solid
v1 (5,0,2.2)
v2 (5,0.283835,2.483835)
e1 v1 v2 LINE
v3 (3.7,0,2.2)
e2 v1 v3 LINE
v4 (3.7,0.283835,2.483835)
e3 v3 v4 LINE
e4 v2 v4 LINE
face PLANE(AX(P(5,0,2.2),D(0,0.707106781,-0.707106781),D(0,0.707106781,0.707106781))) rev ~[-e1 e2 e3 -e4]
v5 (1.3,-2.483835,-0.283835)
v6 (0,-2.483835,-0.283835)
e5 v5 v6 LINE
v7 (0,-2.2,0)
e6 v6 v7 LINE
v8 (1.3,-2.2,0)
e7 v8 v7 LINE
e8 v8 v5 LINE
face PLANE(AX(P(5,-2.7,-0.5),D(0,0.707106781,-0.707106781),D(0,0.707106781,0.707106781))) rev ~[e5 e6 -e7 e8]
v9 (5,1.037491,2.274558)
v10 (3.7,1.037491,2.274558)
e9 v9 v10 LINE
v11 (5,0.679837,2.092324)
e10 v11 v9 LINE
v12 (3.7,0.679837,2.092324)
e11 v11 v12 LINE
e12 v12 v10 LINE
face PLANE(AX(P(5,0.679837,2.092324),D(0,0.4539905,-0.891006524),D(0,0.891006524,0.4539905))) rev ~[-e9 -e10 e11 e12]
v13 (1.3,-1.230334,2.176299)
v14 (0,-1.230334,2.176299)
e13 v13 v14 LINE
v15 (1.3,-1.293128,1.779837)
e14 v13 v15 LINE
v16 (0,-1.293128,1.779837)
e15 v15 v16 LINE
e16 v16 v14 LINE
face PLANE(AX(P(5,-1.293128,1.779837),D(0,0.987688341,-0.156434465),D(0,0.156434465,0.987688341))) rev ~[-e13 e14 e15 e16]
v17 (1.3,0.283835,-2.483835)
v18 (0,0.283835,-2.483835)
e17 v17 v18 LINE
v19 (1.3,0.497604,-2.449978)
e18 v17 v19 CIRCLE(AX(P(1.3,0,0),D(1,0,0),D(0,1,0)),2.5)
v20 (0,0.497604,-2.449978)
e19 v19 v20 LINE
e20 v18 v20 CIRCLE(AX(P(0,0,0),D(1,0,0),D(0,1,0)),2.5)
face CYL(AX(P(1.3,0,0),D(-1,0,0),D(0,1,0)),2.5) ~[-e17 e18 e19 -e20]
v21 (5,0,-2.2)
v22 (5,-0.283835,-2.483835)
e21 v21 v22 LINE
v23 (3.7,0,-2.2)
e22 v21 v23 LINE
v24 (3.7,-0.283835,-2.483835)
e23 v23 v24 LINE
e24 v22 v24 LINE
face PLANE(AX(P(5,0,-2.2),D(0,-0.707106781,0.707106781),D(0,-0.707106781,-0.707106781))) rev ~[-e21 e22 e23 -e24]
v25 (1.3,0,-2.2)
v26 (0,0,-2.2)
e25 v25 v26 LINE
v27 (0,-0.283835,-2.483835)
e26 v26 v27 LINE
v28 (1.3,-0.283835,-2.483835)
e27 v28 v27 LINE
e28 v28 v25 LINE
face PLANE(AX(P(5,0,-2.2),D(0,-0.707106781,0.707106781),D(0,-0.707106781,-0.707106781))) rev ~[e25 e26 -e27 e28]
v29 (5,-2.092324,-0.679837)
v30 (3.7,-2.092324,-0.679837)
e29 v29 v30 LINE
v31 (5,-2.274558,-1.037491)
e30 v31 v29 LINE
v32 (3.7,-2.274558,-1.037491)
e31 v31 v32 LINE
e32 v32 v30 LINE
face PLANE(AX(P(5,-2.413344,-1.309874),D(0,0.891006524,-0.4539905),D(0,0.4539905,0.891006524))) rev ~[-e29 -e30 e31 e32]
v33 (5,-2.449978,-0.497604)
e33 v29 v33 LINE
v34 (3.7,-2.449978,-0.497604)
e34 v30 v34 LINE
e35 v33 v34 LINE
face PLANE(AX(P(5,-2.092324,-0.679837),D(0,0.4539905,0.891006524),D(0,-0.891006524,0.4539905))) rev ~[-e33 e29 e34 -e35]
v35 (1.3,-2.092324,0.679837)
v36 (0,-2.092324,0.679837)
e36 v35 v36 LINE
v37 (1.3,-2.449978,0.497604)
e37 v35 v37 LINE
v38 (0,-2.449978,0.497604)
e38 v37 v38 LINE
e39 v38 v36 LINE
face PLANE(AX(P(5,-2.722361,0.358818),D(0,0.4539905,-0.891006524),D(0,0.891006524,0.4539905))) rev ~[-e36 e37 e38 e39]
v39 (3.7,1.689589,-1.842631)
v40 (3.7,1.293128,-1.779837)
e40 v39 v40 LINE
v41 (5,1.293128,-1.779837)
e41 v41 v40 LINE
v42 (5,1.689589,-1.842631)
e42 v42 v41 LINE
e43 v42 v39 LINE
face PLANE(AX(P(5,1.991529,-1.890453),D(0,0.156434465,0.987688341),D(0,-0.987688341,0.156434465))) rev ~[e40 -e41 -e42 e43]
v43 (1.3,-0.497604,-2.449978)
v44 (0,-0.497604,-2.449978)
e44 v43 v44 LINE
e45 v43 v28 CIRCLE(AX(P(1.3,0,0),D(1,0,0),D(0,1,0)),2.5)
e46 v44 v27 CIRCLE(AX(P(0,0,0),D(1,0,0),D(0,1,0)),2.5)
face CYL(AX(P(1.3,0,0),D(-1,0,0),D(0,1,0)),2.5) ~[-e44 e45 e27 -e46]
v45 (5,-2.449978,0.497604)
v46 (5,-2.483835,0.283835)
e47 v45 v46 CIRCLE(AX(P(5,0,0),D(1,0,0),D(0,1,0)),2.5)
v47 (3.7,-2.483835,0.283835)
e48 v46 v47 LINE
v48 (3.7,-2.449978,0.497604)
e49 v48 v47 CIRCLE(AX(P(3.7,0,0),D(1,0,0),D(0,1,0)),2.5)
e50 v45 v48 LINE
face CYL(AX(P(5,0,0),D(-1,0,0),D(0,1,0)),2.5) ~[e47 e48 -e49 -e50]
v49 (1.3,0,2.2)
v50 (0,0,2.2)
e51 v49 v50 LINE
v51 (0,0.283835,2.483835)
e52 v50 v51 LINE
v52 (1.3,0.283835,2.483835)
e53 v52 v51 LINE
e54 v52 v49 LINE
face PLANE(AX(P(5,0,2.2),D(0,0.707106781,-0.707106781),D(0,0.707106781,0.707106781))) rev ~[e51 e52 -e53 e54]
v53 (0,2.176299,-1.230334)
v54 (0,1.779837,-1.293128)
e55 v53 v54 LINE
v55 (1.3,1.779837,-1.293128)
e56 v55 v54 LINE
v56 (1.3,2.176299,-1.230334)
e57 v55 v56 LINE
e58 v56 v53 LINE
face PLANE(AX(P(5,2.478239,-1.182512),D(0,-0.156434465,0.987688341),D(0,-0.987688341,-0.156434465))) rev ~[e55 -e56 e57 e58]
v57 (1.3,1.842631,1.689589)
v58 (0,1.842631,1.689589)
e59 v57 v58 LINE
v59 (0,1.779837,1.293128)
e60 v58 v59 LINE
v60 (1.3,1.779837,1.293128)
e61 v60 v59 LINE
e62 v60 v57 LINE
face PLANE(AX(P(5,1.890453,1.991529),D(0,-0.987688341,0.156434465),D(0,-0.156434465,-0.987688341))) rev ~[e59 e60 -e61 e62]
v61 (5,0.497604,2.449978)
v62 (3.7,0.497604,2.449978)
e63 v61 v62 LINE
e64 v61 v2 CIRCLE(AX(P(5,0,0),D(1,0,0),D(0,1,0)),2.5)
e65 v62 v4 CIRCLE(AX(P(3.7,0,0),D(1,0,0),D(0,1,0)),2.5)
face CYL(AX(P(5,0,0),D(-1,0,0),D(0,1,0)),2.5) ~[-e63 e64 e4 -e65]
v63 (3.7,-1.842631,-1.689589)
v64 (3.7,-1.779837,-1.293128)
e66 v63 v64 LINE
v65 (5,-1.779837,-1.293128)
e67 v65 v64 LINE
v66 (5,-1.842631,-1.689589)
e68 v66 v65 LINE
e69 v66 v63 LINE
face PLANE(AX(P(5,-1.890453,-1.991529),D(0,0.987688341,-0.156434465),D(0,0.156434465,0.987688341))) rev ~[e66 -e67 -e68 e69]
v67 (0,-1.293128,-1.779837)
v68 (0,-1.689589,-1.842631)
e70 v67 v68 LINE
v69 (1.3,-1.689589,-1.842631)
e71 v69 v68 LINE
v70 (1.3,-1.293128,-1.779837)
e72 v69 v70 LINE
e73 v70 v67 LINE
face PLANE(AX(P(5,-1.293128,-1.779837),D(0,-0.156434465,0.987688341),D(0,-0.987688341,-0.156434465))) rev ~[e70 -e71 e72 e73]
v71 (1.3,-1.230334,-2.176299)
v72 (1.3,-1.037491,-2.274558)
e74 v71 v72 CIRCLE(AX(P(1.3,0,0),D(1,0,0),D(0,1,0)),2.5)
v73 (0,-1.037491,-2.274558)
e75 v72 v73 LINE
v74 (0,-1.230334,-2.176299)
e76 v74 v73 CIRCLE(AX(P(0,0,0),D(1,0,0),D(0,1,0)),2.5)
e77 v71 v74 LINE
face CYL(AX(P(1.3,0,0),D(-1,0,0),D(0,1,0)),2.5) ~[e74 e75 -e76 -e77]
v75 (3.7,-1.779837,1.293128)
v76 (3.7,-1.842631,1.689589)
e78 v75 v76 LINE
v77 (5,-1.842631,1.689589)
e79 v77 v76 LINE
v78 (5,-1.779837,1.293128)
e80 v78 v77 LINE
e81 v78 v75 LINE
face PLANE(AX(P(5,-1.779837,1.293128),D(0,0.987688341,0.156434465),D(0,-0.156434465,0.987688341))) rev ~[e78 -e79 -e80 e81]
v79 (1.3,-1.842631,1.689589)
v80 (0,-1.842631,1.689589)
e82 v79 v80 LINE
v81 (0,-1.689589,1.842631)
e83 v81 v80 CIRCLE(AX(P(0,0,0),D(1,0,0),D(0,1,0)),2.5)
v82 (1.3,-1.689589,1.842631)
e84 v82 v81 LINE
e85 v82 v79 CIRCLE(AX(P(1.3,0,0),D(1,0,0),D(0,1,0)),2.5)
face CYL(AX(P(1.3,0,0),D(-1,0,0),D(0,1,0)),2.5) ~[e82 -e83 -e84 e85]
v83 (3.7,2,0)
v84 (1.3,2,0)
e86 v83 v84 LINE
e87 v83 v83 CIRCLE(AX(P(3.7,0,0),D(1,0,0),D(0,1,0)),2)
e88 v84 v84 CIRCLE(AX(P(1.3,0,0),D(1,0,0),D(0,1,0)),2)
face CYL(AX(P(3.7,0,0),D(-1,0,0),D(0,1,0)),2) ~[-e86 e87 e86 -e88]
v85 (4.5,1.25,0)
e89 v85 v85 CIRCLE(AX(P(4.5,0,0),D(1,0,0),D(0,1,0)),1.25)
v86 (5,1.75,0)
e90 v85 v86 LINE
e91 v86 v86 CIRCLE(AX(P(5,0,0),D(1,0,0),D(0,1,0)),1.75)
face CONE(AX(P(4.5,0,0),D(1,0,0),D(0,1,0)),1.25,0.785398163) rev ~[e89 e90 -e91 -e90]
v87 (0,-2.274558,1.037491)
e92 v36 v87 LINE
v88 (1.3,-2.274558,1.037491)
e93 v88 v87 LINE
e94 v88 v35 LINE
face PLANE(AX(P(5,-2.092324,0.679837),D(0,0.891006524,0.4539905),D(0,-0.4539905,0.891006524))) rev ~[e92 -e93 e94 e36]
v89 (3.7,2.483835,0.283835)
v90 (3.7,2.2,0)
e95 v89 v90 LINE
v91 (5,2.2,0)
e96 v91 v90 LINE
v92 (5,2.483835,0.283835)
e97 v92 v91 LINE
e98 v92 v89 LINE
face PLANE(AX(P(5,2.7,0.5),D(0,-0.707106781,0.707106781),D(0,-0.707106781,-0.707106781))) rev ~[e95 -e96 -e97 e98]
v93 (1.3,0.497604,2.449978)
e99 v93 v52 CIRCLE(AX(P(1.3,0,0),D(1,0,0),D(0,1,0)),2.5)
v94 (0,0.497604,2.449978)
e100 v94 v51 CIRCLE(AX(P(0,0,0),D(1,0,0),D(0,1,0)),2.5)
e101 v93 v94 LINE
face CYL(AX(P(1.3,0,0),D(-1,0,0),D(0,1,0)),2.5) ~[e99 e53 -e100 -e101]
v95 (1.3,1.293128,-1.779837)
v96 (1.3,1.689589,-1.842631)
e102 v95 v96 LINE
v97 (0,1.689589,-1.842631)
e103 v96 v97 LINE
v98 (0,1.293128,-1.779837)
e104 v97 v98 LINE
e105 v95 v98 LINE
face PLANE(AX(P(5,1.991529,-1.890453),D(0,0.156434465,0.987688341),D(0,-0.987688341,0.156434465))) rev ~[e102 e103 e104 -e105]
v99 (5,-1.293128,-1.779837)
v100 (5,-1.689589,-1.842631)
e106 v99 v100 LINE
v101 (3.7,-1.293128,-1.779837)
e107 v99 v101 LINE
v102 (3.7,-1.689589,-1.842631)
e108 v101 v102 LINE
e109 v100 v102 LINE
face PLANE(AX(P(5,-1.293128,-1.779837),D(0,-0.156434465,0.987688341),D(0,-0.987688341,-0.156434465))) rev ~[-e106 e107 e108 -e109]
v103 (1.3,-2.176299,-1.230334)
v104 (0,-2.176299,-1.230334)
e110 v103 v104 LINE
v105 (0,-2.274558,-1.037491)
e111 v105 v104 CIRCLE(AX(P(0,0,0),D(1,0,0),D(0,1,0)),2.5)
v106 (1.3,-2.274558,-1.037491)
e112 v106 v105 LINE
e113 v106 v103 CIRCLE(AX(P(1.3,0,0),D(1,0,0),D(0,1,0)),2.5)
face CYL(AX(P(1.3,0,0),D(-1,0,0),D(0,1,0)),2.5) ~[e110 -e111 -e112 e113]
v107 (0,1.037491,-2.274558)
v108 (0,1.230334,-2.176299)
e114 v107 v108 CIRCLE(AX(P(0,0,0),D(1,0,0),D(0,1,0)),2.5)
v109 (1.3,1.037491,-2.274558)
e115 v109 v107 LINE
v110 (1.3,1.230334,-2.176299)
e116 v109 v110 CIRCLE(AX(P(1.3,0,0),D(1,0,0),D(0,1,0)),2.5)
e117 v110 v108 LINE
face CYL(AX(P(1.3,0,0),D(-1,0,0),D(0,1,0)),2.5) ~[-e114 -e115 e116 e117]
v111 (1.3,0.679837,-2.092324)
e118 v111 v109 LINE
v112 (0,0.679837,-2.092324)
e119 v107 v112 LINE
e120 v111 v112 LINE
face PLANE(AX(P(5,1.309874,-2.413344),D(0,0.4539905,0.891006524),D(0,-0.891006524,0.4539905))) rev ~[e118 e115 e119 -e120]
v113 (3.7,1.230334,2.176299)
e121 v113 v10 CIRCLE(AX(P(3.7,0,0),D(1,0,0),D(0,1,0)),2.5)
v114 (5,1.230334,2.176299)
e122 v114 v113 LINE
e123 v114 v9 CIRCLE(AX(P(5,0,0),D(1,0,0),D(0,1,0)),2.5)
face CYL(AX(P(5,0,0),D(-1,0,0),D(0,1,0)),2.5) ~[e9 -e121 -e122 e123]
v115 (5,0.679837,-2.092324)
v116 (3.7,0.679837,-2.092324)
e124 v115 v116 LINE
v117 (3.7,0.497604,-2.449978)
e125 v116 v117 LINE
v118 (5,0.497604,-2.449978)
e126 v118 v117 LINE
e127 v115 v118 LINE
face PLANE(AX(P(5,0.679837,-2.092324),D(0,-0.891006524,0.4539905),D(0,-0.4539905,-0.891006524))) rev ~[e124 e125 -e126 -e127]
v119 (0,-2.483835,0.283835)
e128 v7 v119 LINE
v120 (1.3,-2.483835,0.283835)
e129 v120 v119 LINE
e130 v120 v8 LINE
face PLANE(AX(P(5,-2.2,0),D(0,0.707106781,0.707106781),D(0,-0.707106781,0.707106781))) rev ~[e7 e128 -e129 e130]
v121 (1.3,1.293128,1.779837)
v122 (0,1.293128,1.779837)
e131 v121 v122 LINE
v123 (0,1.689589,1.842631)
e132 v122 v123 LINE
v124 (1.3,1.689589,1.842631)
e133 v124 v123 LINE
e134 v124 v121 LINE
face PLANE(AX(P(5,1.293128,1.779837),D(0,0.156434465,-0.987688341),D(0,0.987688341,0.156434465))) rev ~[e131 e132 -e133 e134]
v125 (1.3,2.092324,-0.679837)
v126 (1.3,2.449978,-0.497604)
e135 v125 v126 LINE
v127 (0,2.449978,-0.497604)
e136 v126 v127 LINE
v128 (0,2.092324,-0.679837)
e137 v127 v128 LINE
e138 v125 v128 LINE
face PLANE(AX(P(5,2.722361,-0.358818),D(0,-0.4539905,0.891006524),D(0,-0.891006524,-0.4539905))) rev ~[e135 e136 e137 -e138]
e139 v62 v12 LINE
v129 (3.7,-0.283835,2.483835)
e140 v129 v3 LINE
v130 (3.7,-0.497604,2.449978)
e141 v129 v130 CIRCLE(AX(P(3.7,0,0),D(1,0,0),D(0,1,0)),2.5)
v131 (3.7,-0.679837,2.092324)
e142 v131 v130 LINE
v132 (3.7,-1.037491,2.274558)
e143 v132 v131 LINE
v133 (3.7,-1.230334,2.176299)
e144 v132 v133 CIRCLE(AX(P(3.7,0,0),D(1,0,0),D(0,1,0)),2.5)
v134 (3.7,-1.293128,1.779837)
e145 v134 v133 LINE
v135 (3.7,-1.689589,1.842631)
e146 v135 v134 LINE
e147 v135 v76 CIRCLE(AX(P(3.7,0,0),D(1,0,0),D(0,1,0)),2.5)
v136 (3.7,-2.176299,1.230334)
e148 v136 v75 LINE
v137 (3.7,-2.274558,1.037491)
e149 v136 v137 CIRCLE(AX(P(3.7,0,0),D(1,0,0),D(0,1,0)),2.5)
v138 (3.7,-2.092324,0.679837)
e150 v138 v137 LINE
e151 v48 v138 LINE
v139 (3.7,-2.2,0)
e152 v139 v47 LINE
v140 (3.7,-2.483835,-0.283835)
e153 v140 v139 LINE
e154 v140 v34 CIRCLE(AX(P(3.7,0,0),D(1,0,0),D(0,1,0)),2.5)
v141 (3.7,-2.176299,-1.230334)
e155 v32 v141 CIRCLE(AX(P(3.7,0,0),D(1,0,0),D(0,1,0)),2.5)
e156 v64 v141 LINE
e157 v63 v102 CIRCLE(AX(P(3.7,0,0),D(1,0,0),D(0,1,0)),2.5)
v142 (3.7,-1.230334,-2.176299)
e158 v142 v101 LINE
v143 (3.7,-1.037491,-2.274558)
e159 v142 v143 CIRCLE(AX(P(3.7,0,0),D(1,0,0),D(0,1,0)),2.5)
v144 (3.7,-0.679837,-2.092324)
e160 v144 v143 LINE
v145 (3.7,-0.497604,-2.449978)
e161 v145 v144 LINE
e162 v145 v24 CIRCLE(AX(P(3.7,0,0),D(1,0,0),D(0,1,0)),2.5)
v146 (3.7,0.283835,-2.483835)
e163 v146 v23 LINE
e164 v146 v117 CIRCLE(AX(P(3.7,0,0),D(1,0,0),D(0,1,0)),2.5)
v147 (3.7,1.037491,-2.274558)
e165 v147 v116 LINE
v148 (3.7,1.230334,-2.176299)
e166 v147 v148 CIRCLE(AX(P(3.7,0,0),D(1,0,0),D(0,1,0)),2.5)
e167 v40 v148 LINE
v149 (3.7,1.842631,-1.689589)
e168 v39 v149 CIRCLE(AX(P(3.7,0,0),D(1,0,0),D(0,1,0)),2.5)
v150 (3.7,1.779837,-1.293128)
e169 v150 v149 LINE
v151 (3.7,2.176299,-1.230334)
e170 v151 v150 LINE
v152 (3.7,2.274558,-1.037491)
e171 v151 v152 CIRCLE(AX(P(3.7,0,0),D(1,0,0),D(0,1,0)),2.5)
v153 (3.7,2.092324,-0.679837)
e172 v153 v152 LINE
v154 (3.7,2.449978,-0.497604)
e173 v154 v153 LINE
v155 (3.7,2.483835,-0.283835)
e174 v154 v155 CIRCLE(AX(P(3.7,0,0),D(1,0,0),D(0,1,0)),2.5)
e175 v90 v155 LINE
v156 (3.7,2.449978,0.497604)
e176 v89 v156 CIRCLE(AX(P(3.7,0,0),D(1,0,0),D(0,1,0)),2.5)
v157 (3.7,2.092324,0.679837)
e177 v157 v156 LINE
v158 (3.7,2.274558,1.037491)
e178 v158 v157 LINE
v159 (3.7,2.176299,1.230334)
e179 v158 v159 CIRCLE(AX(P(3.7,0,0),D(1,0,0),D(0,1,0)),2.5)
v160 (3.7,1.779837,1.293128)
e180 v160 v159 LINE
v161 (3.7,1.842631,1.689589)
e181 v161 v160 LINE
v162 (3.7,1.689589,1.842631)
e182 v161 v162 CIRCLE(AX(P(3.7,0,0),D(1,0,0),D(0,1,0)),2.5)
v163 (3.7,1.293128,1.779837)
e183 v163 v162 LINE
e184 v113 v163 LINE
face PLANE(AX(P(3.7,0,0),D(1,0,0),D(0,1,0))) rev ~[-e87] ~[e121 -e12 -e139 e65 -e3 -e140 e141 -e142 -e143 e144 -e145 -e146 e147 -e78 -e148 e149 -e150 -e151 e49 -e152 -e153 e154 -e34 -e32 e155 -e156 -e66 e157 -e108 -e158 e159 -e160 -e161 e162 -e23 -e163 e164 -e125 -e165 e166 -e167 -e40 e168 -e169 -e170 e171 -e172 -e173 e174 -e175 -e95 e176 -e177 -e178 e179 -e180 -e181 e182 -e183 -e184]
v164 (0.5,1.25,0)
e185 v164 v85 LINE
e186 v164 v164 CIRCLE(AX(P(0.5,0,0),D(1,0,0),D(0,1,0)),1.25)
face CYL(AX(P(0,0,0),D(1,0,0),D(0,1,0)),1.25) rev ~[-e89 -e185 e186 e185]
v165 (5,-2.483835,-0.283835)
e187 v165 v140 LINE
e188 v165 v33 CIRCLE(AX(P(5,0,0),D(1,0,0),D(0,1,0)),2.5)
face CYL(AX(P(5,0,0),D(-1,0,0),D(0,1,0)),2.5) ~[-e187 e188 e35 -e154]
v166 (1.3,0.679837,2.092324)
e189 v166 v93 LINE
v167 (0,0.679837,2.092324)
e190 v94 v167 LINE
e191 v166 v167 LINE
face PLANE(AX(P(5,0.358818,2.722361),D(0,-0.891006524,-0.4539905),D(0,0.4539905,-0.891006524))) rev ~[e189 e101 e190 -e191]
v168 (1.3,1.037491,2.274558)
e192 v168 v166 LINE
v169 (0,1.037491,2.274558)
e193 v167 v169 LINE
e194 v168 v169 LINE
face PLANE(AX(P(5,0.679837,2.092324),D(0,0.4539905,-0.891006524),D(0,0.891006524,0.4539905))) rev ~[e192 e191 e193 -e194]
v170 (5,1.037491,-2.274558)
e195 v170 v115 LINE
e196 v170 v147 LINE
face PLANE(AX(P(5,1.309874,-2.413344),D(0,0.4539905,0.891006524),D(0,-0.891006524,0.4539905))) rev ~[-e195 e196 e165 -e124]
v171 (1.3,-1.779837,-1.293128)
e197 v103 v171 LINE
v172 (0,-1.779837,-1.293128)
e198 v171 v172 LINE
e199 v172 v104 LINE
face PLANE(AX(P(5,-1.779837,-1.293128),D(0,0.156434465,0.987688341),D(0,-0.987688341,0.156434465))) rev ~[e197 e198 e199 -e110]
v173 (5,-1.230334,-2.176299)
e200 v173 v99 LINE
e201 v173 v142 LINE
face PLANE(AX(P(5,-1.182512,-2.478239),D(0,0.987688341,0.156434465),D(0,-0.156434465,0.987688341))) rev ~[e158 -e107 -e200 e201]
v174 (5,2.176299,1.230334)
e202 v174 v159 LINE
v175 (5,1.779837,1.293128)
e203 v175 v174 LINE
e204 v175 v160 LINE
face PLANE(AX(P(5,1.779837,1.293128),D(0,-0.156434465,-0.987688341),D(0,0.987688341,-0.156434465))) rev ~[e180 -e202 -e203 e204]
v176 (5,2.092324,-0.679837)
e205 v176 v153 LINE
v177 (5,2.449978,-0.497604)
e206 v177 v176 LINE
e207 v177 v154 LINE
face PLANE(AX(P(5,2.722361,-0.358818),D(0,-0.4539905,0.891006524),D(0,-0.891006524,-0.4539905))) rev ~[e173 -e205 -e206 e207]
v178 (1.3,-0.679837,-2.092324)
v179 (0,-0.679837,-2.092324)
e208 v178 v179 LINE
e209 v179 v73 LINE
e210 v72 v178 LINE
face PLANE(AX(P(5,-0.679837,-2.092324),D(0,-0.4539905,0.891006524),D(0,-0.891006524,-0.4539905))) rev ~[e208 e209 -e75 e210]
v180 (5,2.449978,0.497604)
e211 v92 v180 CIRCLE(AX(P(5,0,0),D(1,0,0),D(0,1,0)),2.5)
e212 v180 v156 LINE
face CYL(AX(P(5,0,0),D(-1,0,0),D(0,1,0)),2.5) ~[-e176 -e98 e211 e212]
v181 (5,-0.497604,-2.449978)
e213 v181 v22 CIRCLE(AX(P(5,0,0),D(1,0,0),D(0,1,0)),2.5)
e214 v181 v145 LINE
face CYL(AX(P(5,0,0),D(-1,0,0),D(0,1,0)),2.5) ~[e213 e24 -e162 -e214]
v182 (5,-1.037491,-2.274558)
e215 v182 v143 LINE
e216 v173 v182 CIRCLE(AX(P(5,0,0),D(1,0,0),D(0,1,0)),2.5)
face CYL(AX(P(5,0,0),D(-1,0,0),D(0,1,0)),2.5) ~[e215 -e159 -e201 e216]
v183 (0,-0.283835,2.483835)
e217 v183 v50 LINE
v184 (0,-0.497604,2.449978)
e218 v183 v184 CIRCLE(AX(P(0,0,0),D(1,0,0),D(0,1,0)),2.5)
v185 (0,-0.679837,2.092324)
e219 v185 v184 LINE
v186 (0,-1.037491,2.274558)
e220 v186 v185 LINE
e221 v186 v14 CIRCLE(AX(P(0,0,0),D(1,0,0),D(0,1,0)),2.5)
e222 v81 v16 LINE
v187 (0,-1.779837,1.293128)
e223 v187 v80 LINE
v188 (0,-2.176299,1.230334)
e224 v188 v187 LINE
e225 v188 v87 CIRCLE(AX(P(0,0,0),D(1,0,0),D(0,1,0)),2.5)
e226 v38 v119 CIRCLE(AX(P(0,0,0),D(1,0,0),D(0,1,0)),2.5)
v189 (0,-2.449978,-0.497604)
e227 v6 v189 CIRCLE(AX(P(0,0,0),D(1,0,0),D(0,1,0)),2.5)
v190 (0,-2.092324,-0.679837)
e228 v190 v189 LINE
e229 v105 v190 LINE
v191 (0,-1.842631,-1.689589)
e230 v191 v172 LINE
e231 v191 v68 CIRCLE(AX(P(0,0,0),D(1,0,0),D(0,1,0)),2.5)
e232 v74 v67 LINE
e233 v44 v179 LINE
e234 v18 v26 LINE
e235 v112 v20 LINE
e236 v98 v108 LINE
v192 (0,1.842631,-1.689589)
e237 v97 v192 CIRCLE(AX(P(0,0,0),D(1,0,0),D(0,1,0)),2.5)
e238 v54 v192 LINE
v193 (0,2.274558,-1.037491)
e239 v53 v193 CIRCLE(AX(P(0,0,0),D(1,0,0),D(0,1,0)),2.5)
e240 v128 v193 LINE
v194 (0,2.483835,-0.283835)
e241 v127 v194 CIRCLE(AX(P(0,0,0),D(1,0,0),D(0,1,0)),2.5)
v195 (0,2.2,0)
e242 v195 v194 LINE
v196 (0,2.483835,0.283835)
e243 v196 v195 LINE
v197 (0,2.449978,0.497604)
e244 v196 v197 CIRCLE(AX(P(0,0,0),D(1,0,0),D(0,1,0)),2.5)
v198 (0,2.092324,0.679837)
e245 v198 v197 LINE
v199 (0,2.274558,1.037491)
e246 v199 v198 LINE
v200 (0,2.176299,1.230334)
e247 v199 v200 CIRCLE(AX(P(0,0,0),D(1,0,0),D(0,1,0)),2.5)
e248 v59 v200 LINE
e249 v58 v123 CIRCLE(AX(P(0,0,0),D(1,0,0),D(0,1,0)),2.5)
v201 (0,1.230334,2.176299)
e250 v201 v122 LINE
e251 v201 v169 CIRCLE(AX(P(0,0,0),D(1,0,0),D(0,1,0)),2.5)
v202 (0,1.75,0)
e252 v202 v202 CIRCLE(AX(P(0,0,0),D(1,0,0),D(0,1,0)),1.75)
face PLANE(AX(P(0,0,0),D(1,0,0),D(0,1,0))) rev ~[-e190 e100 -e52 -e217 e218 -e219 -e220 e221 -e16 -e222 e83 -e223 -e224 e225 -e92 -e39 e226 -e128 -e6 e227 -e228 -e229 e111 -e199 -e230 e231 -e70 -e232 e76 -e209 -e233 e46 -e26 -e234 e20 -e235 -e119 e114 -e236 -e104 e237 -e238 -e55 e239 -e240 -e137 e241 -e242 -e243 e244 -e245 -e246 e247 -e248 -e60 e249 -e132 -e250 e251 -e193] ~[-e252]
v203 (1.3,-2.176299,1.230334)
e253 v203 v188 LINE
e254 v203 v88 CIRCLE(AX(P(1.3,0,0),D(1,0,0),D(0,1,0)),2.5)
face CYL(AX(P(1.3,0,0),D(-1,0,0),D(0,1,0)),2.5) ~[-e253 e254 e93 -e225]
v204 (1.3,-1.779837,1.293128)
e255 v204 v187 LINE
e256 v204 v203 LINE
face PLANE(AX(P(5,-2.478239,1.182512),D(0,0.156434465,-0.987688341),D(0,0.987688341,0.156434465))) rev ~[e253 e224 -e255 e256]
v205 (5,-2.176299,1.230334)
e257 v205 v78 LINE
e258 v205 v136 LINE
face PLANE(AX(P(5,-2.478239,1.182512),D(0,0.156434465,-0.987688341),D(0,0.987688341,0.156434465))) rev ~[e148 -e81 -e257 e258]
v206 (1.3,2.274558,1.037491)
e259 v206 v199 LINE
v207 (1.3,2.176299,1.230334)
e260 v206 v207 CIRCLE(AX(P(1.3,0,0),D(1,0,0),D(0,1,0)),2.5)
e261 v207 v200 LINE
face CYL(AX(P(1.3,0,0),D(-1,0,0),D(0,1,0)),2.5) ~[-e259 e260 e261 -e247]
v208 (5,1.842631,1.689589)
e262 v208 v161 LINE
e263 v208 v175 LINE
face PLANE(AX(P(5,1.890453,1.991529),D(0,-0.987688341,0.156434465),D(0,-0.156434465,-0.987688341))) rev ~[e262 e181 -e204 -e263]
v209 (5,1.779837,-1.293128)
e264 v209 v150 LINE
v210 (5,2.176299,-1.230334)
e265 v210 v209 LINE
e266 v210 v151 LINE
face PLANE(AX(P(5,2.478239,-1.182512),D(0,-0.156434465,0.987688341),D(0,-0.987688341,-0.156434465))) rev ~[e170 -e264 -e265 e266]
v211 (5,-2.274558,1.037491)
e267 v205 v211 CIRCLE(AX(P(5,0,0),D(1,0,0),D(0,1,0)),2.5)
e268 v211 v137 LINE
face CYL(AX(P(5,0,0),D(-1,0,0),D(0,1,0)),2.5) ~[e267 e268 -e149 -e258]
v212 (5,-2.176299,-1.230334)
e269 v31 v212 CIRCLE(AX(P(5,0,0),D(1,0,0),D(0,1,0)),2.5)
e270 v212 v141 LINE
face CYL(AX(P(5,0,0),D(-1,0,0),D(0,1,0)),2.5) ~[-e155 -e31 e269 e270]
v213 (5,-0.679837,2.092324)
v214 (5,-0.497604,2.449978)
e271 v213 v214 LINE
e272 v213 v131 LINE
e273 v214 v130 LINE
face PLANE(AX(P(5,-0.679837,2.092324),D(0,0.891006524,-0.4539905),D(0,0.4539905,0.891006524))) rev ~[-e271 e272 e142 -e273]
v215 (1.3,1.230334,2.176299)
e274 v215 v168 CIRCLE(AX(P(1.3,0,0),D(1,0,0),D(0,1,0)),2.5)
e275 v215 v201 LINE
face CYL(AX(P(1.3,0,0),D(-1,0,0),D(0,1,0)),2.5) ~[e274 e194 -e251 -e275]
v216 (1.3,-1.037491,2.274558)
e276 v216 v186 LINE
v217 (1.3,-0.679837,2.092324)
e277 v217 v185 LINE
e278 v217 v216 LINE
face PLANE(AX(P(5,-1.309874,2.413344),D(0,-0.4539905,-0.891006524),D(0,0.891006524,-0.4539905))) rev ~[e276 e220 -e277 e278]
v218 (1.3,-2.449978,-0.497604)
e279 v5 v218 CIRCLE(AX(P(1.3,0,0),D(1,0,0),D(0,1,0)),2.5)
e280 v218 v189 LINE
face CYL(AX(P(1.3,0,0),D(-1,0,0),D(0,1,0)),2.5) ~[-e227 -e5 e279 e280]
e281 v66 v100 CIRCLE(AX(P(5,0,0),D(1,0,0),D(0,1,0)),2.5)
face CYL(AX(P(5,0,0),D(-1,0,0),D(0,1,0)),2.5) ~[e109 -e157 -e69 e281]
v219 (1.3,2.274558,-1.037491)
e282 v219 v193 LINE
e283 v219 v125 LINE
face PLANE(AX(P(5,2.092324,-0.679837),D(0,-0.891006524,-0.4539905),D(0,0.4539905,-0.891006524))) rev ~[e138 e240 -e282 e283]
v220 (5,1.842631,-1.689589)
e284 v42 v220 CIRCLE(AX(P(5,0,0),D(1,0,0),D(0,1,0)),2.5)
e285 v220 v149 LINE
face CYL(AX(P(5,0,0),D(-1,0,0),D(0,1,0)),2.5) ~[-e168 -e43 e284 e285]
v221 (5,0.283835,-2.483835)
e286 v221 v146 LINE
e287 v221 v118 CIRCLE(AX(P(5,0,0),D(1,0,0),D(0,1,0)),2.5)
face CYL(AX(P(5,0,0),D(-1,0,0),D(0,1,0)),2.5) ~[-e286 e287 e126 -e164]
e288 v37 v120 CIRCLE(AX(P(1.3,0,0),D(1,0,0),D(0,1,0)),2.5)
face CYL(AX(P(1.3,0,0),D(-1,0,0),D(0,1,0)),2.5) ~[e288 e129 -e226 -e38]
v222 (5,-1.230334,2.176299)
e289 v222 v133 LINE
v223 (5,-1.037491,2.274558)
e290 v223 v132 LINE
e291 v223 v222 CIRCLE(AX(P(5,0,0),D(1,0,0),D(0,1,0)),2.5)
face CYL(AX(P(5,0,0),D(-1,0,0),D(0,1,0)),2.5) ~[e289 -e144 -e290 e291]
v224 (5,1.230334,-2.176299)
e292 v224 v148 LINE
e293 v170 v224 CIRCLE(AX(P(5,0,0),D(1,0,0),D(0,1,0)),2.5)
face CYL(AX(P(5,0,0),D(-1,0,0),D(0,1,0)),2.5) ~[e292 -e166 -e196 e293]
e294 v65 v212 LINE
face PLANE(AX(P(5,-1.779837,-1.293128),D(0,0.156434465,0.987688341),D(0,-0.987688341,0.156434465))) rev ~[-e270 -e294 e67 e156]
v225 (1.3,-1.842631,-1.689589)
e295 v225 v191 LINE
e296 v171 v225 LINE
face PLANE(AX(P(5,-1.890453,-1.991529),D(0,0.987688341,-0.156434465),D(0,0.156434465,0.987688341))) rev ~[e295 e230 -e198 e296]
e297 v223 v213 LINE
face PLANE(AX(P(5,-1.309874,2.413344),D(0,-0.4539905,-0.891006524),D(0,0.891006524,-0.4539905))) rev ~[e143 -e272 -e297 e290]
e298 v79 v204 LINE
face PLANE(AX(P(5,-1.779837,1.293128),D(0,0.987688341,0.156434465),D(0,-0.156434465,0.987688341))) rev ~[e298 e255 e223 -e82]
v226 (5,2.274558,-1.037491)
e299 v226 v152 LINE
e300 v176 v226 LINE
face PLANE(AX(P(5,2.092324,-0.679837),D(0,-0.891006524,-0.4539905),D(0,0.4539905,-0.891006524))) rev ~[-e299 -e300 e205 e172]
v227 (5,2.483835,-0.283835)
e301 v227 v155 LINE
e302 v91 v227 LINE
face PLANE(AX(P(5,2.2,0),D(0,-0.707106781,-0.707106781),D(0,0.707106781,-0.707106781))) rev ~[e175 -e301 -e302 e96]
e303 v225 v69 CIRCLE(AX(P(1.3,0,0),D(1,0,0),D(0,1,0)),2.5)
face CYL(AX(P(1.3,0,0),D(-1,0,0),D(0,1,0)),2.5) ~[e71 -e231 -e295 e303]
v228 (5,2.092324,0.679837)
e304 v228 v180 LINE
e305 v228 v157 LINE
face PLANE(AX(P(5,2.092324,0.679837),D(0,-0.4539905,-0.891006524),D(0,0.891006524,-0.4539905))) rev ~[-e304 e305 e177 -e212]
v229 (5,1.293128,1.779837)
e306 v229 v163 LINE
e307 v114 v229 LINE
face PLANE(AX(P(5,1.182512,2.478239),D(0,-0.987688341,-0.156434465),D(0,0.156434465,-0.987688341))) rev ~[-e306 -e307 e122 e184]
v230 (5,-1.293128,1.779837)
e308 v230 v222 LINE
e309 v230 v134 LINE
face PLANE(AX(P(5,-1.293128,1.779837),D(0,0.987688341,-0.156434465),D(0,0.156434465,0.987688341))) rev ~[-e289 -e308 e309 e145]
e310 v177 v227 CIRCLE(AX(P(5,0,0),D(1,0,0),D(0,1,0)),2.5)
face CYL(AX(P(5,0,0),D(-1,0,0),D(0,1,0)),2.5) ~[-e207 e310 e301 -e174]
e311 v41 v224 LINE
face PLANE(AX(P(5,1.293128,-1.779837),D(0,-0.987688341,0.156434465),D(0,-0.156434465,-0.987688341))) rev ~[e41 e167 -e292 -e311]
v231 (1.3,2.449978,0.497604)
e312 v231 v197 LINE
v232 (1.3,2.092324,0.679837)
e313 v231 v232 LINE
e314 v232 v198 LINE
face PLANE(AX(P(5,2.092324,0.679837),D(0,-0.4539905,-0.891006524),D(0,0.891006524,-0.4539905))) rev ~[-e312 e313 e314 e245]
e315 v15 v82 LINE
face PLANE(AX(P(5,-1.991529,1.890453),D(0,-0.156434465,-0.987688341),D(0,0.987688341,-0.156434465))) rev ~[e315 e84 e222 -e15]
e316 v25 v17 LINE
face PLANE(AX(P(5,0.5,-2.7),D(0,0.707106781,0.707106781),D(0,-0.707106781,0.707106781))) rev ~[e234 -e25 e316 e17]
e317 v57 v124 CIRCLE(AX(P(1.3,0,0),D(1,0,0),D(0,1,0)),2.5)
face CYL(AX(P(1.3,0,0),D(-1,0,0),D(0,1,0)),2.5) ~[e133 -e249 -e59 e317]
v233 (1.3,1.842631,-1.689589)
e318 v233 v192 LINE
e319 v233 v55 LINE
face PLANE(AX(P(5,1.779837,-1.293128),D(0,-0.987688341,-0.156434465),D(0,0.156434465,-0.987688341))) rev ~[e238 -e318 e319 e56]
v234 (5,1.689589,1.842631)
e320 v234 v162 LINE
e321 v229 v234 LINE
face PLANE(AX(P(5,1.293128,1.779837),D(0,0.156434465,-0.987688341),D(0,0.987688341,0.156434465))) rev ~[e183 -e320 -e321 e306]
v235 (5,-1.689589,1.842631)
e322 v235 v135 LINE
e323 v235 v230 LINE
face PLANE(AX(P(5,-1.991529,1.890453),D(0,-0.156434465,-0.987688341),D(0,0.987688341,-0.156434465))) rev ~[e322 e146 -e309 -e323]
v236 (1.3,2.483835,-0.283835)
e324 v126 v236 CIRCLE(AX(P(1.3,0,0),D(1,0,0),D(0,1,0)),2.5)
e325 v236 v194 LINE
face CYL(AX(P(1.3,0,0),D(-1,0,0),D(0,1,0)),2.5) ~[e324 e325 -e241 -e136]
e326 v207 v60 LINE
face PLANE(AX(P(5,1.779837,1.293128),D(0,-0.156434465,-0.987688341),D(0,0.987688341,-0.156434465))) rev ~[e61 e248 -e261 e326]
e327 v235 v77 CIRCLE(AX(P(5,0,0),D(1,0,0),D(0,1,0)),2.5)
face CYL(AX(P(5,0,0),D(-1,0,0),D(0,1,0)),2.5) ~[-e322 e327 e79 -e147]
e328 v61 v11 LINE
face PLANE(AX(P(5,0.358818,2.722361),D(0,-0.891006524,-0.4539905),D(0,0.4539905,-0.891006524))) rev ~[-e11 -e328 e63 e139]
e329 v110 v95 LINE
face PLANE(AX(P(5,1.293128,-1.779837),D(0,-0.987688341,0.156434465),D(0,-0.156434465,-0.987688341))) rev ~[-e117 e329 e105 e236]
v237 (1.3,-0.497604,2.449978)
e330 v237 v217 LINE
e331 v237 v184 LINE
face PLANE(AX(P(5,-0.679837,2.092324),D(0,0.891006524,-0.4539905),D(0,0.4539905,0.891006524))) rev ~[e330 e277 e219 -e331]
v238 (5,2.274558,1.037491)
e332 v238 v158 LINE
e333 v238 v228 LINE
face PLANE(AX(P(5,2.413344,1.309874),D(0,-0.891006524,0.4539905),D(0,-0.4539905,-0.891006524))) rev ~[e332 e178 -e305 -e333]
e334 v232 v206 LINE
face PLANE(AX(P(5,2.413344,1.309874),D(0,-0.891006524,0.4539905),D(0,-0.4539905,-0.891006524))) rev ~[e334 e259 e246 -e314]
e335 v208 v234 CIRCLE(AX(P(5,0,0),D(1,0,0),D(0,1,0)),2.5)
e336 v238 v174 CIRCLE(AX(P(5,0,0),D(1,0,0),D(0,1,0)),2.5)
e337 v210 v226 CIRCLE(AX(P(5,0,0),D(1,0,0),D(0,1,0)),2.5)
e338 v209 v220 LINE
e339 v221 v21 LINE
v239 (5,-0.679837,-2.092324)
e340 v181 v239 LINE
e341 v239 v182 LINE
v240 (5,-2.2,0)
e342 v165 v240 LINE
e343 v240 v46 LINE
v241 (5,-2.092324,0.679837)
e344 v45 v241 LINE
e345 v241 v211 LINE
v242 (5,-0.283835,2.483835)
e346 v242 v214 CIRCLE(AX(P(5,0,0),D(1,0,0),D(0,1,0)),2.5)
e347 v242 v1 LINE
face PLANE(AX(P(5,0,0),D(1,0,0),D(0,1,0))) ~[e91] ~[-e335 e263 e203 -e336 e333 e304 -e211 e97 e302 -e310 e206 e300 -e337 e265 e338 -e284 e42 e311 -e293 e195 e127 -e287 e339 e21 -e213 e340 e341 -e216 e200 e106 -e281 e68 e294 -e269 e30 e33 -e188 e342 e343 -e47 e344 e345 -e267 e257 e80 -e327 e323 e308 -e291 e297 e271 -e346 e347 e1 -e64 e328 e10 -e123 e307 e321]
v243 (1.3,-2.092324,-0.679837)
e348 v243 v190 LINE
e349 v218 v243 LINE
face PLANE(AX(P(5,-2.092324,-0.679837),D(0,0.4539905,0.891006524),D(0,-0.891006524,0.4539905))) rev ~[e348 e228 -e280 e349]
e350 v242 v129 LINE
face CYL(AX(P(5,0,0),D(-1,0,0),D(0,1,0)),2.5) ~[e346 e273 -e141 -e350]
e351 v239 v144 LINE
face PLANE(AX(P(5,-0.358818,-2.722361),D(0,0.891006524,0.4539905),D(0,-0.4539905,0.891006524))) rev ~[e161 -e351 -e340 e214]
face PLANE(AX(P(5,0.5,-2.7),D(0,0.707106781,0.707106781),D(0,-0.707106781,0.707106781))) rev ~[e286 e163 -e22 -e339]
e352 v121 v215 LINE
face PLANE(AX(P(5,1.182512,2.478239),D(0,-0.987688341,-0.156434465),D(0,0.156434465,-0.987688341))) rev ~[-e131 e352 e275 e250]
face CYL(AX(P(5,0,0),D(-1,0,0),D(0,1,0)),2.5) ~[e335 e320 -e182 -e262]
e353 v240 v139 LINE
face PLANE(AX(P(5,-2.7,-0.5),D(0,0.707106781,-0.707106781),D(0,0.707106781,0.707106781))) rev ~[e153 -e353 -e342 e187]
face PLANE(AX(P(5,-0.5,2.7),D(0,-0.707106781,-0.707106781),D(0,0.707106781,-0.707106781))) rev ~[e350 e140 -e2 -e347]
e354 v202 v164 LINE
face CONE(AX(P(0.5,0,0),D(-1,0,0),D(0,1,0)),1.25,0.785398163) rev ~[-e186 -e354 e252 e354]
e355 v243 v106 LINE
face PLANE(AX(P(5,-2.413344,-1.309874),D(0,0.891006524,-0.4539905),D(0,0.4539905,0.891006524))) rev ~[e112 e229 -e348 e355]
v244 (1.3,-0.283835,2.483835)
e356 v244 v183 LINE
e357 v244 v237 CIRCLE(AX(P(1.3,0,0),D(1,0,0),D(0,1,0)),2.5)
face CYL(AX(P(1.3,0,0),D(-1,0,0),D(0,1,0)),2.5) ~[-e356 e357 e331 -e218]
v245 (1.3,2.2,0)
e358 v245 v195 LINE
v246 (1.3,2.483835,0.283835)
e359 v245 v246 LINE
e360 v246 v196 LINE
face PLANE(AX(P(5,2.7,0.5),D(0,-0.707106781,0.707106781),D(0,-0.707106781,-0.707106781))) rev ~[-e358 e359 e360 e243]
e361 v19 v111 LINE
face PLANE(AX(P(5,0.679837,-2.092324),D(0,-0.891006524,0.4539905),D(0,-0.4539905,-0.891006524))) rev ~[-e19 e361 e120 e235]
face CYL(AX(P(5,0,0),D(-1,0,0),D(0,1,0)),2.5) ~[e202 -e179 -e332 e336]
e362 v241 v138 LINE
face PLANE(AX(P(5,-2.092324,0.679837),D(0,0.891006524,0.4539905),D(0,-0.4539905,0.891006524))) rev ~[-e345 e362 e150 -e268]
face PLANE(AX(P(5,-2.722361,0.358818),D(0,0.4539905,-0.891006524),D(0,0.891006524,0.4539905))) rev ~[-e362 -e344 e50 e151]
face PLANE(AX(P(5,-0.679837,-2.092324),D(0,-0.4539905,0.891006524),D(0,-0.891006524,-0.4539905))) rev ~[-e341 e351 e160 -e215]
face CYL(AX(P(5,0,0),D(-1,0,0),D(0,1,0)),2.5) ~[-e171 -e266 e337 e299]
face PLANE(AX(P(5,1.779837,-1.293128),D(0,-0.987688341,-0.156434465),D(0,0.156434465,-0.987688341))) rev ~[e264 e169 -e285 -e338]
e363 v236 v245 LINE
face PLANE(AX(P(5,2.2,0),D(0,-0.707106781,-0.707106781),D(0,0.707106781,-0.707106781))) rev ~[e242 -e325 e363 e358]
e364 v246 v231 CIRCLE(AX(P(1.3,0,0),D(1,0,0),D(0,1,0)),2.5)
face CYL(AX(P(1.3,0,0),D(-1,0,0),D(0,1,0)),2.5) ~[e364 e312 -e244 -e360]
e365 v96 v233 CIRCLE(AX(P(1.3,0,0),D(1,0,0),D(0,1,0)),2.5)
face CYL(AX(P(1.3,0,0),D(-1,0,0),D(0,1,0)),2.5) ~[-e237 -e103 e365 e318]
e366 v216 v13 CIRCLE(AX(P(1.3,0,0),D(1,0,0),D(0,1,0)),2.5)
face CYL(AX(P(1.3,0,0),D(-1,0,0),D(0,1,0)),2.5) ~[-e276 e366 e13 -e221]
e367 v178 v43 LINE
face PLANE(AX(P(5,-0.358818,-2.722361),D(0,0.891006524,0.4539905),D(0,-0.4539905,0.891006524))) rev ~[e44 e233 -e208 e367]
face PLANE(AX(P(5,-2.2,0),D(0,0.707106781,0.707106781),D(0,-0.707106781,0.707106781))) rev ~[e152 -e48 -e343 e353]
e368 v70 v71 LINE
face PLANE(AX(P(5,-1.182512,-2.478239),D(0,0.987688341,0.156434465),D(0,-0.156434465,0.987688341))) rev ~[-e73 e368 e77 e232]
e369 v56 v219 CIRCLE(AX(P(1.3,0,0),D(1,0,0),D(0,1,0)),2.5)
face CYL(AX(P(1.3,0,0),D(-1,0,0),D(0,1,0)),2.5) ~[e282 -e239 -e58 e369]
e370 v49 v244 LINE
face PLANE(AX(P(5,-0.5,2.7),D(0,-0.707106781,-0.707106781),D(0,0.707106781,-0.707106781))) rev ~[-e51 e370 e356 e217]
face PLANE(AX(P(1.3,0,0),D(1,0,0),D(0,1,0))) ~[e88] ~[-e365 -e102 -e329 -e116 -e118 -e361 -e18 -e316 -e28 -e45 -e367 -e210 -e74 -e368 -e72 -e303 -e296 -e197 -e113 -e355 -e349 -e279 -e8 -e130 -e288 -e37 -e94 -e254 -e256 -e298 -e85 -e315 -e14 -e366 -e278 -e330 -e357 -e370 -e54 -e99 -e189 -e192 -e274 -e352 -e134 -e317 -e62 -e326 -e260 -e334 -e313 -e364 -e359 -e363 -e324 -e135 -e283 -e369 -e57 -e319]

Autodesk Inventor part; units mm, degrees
ref_plane "YZ Plane" through (0, 0, 0) normal (1, 0, 0) x (0, 1, 0)
ref_plane "XZ Plane" through (0, 0, 0) normal (0, 1, 0) x (-1, 0, 0)
ref_plane "XY Plane" through (0, 0, 0) normal (0, 0, 1) x (1, 0, 0)
sketch "Sketch1" plane through (0, 0, 0) normal (0, 0, 1) x (1, 0, 0)
  line L0 (0, 0) -> (5.7743, 0) construction
  line L1 (0, 1.25) -> (5, 1.25)
  line L2 (5, 1.25) -> (5, 2.5)
  line L3 (5, 2.5) -> (3.7, 2.5)
  line L4 (3.7, 2.5) -> (3.7, 2)
  line L5 (3.7, 2) -> (1.3, 2)
  line L6 (1.3, 2) -> (1.3, 2.5)
  line L7 (1.3, 2.5) -> (0, 2.5)
  line L8 (0, 2.5) -> (0, 1.25)
  dimension "d0" = 1.25
  dimension "d1" = 1.3
  dimension "d2" = 1.3
  dimension "d3" = 5
  dimension "d4" = 2.5
  dimension "d5" = 2
  dimension "d6" = 5
  dimension "d7" = 0.7743
revolve "Revolution1" add sketch "Sketch1" angle 360 about axis through (0, 0, 0) along (1, 0, 0)
sketch "Sketch2" plane through (5, 0, 0) normal (1, 0, 0) x (0, 0, -1)
  line L0 (0, 0) -> (0, 3.0981) construction
  line L1 (0, 2.2) -> (0.5, 2.7)
  line L2 (0.5, 2.7) -> (-0.5, 2.7)
  line L3 (-0.5, 2.7) -> (0, 2.2)
  dimension "d9" = 2.2
  dimension "d10" = 45
  dimension "d11" = 45
  dimension "d12" = 0.5
extrude "Extrusion1" cut sketch "Sketch2" against normal through all
pattern_circular "Circular Pattern1" count 20 over 360 about axis through (2.5, 0, 0) along (1, 0, 0) of "Extrusion1"
chamfer "Chamfer1" distance 0.5 angle 45 2 edges at (5, -1.25, 0) (0, -1.25, 0)
thread "Thread1" size "M3x0.5" class "6H" standard "ANSI Metric M Profile" full length
properties part number "M3 Threaded Insert" material "Brass, Soft Yellow, Welded"
